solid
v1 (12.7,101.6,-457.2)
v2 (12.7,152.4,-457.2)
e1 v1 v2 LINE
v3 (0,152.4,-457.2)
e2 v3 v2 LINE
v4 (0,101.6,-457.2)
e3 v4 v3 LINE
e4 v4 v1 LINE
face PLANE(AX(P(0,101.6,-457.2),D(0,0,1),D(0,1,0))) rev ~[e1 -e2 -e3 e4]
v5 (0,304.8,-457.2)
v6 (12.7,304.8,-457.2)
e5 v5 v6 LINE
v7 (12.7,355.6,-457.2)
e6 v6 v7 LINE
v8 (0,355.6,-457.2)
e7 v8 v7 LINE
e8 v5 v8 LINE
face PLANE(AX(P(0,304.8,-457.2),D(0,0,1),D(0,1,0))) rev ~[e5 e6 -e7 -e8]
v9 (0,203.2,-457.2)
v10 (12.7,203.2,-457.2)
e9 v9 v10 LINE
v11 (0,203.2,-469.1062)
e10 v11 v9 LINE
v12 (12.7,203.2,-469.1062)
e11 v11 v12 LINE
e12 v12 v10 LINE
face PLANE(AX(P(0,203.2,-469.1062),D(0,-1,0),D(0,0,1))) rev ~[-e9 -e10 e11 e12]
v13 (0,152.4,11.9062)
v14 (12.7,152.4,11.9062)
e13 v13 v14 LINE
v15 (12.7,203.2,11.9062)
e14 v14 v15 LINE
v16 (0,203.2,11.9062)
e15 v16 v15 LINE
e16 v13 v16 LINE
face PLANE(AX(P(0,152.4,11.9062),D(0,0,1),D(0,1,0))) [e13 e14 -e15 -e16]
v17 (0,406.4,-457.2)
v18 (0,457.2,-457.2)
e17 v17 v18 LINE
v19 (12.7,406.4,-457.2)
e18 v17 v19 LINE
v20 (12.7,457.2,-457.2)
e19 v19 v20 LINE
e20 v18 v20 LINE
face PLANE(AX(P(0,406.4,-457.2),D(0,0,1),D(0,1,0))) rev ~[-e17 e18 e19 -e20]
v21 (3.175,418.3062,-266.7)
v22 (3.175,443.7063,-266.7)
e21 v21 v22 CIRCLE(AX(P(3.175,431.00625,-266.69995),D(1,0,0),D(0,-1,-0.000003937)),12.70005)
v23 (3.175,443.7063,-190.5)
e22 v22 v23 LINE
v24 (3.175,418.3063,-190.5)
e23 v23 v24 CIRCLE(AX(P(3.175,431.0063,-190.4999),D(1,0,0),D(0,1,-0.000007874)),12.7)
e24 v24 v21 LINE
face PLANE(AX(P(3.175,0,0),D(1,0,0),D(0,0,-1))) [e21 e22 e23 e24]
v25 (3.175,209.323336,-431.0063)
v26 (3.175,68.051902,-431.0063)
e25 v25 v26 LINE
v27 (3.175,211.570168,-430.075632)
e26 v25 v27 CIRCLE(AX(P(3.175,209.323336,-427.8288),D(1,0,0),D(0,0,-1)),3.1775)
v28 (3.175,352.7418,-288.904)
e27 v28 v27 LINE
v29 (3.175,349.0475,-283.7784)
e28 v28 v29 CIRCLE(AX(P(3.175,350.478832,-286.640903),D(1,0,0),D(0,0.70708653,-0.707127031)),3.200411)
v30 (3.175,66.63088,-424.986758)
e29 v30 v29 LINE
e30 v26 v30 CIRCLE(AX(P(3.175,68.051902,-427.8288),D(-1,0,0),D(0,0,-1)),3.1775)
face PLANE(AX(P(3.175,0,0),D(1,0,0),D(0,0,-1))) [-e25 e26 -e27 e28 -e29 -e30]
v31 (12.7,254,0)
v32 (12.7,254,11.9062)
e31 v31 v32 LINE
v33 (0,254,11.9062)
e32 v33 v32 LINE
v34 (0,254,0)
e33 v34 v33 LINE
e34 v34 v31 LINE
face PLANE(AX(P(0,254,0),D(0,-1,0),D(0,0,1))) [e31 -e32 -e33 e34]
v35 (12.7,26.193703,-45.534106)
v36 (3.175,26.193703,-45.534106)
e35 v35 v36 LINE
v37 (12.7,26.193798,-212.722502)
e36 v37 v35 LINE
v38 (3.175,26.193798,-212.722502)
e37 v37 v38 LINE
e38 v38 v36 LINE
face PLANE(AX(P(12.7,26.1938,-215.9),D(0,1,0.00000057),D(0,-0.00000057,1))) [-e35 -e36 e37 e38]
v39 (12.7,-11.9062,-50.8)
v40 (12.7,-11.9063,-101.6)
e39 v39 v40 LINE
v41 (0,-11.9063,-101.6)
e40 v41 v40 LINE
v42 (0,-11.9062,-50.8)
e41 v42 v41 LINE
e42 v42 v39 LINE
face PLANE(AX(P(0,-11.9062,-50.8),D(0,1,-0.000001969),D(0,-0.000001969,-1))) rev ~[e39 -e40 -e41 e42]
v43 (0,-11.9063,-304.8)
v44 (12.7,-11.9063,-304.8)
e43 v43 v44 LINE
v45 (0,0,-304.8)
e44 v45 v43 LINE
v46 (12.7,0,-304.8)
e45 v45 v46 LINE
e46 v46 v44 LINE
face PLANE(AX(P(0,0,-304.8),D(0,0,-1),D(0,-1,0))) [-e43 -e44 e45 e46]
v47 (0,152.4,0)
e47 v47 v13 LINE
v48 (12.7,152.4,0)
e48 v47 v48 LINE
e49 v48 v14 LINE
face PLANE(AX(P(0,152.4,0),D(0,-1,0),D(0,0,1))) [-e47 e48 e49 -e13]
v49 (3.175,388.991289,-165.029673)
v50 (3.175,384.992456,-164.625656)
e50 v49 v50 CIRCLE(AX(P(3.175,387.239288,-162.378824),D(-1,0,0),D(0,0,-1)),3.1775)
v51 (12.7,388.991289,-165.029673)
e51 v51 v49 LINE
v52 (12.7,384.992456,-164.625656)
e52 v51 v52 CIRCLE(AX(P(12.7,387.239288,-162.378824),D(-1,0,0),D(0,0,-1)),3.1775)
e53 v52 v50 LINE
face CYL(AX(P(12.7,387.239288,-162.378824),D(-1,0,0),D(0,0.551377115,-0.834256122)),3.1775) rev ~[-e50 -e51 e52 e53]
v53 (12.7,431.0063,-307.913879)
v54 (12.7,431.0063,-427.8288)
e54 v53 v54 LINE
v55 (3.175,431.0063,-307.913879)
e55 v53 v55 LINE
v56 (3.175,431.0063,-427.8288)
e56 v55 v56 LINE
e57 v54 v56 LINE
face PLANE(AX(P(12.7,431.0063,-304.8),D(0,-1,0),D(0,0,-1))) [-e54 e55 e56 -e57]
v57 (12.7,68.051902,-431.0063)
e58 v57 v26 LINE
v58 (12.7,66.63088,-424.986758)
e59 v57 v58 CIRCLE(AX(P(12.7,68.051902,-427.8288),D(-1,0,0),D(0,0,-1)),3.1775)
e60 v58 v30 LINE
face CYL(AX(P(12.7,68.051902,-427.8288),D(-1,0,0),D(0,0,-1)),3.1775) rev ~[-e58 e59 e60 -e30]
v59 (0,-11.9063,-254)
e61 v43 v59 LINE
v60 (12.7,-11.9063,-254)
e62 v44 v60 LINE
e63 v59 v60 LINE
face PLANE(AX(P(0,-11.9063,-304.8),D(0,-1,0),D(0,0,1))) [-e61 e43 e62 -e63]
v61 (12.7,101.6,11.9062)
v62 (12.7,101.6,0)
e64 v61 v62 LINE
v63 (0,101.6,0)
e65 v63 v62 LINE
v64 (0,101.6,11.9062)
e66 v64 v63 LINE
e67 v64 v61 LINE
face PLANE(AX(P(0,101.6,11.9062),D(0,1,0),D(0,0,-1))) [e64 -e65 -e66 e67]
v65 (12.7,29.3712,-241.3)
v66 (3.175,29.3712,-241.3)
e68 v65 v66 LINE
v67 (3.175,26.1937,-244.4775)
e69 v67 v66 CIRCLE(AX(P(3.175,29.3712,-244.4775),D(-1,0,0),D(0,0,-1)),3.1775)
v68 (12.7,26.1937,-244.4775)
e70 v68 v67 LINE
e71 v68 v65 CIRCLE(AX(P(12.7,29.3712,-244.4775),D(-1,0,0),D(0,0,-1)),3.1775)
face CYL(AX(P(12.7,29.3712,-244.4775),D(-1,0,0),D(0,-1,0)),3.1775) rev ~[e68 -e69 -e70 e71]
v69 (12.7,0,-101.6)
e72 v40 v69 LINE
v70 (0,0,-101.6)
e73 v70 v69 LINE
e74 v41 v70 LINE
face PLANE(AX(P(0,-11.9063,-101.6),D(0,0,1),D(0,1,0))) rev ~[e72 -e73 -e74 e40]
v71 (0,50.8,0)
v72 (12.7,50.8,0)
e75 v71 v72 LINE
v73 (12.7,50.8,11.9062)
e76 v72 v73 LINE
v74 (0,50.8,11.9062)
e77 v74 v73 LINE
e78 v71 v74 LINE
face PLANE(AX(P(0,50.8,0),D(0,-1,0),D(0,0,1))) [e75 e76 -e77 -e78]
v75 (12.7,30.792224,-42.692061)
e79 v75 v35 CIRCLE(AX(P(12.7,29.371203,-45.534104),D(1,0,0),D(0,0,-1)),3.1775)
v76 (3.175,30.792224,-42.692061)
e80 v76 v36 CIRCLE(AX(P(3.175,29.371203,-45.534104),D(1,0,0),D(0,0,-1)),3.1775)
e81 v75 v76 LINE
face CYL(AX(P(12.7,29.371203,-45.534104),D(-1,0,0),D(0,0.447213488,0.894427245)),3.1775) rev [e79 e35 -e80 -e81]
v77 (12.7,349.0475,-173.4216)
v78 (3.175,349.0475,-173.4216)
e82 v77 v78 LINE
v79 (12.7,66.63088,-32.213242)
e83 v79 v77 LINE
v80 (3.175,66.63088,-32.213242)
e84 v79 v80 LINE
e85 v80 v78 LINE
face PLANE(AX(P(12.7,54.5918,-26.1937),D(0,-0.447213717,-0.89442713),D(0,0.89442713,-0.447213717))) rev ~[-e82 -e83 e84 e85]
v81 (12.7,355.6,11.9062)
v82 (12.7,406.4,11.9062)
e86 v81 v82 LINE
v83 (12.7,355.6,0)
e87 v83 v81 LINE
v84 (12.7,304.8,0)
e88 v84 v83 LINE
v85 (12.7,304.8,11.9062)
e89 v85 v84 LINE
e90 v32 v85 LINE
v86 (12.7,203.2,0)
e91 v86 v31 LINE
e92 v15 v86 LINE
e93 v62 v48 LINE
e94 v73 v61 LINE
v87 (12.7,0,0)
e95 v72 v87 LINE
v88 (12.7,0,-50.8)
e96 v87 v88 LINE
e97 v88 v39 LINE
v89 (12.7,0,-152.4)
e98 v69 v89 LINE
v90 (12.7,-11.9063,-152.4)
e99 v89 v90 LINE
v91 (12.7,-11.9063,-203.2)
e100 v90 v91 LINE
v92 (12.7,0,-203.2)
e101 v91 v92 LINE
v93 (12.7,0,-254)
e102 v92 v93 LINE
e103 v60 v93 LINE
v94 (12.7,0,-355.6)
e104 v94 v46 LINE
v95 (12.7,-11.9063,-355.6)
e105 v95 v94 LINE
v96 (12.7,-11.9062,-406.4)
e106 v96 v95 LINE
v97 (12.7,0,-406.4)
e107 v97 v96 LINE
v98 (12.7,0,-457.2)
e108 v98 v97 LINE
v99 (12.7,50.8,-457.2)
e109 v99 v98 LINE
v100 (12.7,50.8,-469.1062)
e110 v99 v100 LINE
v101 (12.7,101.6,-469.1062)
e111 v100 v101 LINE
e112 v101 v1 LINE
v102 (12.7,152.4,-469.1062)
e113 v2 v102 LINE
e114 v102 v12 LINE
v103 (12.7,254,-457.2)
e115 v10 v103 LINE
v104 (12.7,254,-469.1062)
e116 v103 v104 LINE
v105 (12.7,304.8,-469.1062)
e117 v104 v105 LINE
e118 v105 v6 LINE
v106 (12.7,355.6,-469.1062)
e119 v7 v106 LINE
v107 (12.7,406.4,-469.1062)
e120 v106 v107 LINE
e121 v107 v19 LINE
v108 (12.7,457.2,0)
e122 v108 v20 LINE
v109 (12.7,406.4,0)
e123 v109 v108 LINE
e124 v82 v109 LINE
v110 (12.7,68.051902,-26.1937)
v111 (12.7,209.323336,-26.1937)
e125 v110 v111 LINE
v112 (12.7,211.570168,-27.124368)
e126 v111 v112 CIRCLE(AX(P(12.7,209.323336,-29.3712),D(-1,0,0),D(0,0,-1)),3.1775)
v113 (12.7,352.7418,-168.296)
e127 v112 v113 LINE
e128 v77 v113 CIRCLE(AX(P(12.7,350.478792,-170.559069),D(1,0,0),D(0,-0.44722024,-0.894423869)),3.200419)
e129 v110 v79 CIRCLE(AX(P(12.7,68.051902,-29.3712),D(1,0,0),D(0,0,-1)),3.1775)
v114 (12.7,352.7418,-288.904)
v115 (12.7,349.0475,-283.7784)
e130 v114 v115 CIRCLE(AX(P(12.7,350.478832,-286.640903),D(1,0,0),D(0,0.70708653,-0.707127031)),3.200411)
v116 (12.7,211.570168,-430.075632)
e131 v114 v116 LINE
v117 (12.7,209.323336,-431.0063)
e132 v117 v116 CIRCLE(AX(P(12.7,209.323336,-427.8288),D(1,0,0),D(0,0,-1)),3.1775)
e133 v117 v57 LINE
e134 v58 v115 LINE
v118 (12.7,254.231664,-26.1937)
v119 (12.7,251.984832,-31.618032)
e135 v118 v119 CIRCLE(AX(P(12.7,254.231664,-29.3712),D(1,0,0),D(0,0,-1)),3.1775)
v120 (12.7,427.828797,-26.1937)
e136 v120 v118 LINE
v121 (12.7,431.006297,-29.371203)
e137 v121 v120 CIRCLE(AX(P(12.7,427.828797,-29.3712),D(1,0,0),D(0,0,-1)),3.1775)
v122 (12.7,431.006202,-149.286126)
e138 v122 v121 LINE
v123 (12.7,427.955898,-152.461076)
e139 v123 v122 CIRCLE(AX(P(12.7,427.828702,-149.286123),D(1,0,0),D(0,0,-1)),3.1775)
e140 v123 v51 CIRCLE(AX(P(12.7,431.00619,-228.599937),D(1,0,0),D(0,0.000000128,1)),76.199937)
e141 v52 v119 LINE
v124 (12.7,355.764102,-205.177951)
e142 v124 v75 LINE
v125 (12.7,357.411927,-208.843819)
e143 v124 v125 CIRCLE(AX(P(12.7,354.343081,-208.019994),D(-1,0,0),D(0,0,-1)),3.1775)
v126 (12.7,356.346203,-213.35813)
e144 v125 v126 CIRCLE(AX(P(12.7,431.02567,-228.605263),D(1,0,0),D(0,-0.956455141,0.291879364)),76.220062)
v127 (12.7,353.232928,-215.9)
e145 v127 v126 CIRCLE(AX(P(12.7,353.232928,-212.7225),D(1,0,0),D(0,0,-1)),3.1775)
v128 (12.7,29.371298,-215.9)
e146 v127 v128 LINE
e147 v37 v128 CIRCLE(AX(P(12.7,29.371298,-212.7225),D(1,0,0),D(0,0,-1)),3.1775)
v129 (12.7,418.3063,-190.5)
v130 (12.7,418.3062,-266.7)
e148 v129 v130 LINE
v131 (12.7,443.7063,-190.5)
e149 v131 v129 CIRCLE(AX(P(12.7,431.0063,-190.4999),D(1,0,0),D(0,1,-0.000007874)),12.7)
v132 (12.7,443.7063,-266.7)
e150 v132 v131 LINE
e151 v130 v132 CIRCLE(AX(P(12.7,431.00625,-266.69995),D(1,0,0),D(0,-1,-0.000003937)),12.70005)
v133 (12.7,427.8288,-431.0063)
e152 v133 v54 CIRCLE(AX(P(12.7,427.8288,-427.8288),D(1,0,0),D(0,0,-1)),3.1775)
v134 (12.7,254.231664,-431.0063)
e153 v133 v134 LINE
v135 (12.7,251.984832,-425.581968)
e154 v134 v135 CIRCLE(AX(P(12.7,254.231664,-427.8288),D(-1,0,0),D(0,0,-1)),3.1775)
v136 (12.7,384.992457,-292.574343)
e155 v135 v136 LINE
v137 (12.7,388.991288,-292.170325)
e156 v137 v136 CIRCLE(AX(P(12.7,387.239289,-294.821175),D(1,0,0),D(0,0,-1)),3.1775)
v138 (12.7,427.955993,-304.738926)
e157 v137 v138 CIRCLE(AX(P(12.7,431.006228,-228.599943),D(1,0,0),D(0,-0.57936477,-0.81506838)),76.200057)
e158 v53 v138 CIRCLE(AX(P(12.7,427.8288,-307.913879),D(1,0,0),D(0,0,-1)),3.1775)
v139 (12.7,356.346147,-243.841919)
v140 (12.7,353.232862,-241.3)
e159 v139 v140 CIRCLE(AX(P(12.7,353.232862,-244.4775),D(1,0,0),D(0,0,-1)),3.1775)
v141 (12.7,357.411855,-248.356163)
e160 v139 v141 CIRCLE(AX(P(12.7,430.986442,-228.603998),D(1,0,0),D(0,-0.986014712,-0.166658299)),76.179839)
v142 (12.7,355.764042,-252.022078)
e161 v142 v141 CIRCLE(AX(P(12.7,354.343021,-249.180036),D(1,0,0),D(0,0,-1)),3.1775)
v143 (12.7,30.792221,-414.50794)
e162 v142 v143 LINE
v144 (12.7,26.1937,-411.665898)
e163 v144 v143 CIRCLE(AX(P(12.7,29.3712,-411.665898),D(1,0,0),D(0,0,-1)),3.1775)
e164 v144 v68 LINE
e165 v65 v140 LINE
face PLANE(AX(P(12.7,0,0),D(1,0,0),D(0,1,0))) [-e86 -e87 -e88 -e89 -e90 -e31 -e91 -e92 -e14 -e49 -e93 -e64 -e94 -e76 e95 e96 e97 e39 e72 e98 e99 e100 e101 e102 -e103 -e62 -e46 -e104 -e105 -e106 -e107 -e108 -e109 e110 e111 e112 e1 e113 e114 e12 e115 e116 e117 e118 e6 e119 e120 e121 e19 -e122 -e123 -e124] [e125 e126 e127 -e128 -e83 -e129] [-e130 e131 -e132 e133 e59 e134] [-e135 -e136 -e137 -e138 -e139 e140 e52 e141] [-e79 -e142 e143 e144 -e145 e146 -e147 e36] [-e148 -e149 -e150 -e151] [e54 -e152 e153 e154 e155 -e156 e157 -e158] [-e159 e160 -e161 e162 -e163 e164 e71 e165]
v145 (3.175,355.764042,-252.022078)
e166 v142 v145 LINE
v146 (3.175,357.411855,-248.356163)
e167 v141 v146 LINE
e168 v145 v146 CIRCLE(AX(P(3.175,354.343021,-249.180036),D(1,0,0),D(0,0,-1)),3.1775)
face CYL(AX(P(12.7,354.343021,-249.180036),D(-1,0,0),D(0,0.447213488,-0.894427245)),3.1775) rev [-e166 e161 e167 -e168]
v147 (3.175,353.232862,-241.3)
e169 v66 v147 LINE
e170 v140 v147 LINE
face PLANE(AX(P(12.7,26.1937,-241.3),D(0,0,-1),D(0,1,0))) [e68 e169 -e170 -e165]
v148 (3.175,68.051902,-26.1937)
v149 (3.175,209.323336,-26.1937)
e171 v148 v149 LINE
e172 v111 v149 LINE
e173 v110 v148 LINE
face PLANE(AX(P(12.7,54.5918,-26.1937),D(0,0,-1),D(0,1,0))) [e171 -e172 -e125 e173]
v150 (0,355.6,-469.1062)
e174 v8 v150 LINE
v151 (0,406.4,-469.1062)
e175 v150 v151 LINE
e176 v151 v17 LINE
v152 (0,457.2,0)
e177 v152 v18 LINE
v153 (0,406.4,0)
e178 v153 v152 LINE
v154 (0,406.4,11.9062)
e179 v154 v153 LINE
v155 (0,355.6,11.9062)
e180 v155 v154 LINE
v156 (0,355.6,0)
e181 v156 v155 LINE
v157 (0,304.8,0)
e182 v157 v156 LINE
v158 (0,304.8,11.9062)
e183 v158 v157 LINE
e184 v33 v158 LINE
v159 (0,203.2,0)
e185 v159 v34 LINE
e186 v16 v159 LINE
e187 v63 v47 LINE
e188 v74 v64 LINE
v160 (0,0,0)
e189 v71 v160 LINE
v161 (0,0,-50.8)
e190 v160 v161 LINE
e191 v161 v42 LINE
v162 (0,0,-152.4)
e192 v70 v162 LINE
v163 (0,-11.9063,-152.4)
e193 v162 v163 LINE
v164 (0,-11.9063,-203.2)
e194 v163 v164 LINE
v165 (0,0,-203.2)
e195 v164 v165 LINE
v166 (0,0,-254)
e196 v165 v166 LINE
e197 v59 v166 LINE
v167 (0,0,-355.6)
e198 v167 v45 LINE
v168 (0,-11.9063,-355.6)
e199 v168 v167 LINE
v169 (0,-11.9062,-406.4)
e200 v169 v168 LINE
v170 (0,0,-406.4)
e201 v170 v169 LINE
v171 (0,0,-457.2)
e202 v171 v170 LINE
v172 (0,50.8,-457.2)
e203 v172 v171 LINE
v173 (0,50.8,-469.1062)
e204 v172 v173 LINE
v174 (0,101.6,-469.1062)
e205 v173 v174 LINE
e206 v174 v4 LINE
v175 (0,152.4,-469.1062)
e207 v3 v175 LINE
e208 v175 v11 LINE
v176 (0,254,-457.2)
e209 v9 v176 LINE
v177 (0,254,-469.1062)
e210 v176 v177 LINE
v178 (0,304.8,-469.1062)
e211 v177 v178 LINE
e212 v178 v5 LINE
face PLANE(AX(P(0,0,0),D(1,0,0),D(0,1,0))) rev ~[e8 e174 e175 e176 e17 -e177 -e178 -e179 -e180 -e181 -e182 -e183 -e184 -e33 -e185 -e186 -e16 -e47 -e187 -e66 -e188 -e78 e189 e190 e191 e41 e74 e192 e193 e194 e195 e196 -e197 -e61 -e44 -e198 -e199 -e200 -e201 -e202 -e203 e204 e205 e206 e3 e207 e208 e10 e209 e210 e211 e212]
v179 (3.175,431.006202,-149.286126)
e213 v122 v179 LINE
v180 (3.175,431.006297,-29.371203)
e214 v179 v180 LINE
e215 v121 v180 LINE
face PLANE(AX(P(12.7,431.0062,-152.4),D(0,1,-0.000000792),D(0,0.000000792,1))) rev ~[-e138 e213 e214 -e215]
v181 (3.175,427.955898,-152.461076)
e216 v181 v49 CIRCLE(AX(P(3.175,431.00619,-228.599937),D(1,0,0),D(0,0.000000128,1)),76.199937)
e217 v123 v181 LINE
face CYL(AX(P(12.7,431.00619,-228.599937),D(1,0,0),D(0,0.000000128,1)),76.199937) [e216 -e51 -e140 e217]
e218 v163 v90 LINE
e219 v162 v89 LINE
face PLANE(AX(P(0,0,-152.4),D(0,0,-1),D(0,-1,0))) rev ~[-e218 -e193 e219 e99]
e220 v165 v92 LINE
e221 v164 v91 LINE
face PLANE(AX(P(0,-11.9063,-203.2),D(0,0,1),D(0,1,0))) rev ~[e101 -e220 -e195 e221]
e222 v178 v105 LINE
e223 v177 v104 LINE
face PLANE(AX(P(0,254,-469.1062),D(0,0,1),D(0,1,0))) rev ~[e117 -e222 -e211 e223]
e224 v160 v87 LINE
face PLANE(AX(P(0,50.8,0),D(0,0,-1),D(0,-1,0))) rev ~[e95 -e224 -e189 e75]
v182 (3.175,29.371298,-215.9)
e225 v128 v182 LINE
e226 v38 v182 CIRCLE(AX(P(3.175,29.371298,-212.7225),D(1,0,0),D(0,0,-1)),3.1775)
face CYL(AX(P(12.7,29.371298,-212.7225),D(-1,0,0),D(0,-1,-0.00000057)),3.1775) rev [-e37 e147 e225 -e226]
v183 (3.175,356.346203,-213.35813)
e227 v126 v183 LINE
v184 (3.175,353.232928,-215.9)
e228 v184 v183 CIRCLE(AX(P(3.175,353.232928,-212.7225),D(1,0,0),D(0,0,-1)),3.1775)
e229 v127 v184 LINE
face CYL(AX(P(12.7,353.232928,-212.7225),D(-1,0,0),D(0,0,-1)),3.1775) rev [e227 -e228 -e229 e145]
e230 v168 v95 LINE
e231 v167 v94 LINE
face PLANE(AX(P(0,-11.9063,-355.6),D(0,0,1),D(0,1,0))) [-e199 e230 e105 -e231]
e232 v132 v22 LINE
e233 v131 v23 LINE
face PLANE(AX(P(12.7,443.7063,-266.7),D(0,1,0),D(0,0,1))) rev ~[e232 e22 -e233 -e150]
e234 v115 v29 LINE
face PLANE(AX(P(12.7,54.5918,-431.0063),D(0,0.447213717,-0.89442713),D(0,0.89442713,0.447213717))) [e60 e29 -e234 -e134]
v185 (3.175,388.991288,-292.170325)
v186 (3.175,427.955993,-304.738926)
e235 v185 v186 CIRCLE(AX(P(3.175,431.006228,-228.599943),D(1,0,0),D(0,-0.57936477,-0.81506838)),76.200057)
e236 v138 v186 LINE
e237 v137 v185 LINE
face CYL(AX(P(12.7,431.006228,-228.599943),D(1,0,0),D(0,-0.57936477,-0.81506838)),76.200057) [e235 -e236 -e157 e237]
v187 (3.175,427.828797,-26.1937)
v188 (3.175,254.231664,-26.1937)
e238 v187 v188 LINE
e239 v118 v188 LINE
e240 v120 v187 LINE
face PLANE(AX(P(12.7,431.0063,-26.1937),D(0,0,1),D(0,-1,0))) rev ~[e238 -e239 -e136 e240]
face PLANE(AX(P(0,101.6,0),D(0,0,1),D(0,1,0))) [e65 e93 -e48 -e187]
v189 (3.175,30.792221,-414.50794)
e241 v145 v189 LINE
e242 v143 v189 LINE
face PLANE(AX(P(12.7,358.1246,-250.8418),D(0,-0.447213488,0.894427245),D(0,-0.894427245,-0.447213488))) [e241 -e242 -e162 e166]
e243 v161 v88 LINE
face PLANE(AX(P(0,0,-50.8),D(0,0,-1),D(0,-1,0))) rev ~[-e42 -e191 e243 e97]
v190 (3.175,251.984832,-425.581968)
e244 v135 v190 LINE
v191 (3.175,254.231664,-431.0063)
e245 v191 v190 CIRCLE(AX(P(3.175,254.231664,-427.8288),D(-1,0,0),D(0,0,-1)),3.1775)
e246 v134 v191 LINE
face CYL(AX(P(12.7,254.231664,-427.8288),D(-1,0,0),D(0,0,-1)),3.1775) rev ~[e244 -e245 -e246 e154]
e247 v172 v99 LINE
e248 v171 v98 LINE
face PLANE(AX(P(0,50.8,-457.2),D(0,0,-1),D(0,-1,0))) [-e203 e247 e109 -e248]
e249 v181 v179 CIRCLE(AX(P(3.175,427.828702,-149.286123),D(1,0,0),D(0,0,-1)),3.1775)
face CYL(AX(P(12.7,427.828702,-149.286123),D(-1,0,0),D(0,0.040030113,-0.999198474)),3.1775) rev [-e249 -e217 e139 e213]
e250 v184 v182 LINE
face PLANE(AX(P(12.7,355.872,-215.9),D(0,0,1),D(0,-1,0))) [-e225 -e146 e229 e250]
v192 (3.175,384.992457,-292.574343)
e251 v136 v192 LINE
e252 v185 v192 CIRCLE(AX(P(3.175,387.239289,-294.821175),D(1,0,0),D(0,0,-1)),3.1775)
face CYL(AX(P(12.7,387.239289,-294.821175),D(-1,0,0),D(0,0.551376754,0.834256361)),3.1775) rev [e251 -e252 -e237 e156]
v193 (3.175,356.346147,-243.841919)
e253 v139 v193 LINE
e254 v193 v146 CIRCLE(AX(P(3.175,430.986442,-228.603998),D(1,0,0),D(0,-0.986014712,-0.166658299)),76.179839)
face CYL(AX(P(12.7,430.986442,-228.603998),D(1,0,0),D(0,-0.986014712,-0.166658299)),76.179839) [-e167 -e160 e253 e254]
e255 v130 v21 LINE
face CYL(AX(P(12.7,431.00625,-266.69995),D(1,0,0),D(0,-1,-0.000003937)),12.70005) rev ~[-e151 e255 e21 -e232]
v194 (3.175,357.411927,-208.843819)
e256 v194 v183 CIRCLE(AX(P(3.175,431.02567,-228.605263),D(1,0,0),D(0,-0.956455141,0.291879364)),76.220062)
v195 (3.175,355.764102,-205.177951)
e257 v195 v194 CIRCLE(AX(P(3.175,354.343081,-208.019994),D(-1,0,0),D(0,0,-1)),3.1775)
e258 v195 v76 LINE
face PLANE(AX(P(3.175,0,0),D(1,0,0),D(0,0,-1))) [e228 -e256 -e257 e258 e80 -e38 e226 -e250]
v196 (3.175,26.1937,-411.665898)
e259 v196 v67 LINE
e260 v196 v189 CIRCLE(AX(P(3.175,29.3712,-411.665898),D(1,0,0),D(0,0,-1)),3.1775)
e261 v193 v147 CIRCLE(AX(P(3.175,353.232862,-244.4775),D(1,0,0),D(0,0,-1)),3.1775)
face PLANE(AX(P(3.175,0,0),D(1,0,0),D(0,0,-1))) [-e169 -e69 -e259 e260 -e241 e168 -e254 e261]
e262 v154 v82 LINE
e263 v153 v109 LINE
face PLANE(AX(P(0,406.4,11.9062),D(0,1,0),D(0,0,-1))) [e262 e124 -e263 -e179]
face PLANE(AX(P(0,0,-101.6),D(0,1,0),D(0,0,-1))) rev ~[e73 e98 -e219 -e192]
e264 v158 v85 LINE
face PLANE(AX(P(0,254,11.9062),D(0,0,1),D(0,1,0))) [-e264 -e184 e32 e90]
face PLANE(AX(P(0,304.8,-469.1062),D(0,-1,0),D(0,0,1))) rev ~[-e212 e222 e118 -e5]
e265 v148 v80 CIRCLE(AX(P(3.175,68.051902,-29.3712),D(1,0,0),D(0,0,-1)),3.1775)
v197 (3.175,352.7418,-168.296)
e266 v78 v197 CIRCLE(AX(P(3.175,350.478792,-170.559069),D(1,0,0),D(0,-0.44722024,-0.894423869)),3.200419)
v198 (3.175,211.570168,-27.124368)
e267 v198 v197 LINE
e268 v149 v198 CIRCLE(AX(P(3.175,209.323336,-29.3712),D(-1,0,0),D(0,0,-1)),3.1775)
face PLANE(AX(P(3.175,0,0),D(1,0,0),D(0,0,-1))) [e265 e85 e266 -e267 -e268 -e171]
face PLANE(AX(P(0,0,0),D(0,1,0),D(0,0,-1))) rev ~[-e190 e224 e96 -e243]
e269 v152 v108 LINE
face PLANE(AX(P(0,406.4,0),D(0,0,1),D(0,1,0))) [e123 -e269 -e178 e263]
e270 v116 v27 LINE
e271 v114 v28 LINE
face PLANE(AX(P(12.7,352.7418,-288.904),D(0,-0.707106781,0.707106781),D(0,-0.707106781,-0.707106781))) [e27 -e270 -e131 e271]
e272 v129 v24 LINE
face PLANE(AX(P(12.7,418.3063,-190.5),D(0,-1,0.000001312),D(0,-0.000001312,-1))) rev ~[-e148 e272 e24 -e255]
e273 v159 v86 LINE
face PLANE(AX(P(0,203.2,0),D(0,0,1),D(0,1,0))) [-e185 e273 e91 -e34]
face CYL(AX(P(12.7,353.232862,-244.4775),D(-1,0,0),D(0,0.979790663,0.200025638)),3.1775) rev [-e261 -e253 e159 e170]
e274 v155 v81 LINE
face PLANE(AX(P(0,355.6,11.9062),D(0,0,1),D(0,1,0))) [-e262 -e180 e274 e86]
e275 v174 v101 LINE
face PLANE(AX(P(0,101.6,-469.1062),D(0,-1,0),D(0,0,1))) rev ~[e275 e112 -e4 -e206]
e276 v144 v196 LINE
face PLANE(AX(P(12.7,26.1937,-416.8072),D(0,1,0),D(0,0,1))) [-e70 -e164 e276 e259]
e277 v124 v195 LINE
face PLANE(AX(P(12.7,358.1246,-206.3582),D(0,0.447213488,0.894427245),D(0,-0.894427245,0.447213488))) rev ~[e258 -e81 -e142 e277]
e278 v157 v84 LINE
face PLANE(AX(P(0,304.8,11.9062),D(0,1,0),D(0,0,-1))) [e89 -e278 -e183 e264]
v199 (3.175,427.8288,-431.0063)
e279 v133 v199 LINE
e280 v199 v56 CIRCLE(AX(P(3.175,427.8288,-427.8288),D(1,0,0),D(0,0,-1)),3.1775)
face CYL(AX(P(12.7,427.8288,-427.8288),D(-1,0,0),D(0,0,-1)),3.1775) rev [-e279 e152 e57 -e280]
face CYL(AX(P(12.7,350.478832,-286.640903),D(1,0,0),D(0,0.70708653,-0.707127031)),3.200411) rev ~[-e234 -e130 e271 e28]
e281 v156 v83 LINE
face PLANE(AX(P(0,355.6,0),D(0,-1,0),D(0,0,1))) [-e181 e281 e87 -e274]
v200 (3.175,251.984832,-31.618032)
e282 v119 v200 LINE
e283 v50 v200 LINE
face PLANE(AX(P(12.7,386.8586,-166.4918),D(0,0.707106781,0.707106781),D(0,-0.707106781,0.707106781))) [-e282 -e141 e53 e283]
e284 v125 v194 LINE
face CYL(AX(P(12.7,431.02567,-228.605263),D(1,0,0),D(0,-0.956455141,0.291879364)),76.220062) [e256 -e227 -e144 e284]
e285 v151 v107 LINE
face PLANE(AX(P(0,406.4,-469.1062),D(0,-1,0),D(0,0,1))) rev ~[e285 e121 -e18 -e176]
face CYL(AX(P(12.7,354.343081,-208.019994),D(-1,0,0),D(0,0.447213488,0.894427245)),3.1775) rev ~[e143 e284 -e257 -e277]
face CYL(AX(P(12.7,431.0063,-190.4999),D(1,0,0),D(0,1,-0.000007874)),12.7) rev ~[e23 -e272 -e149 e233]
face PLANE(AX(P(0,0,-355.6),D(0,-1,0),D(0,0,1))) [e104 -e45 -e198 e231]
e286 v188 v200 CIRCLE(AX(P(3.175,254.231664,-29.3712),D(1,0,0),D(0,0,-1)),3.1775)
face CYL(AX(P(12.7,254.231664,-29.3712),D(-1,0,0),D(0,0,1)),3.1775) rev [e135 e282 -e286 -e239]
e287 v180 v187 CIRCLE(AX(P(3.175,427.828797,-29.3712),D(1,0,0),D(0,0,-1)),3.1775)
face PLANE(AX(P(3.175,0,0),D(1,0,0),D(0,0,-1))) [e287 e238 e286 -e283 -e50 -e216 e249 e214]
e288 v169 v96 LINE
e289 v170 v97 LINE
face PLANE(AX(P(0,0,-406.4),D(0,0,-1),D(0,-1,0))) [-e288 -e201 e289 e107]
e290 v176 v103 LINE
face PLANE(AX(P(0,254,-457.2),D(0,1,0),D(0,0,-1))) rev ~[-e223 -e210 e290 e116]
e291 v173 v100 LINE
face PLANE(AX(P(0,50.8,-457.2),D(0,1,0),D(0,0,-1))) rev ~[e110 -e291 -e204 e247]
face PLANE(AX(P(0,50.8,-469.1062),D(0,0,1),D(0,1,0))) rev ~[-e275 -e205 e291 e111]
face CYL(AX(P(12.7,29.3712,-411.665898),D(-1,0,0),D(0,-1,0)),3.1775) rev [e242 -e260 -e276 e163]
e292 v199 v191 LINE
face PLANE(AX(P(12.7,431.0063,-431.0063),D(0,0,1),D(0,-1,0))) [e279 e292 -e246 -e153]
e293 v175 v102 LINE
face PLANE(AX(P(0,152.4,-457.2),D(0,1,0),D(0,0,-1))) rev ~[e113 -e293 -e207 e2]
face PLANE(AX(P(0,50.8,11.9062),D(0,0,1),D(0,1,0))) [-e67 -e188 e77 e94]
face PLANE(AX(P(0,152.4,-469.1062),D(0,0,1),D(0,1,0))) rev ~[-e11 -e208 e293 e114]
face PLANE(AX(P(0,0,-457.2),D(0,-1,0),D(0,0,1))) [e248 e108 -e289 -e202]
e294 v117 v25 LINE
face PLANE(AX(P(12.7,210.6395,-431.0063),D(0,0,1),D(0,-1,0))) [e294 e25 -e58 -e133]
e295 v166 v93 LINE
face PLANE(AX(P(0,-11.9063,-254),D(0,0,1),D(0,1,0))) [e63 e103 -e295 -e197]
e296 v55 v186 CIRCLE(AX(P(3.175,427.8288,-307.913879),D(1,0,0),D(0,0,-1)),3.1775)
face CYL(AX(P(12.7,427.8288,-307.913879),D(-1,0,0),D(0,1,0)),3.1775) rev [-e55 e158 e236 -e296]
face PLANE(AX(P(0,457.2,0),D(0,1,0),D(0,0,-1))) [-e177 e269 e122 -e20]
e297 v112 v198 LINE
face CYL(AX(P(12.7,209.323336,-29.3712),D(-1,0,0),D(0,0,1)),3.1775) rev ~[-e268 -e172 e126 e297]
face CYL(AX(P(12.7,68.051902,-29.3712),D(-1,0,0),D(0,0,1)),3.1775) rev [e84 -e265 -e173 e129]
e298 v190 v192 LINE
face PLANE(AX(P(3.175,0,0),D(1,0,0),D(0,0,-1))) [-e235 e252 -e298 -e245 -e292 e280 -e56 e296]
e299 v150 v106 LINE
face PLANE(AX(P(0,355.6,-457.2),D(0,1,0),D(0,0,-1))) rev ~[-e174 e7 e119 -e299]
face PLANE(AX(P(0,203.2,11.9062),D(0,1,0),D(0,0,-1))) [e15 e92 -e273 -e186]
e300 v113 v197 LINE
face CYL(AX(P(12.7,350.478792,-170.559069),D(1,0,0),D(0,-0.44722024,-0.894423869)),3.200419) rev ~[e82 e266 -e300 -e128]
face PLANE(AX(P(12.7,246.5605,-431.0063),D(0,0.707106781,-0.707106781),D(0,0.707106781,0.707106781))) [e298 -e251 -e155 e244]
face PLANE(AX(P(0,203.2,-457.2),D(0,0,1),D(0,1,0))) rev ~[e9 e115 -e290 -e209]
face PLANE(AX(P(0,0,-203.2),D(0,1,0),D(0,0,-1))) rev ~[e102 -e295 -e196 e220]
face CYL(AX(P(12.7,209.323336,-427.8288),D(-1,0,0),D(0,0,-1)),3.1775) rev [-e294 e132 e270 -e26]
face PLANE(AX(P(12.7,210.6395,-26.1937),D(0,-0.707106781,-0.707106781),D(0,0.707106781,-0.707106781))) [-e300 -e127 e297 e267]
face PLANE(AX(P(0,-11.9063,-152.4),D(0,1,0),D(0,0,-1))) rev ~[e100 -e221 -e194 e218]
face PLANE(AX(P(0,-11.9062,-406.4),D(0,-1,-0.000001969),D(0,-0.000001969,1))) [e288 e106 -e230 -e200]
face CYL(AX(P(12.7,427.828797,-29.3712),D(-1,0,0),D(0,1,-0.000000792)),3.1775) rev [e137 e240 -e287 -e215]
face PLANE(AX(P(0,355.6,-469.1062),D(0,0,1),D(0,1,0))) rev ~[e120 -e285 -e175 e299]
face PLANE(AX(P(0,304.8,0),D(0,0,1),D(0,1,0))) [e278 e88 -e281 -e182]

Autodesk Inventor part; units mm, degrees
ref_plane "YZ Plane" through (0, 0, 0) normal (1, 0, 0) x (0, 1, 0)
ref_plane "XZ Plane" through (0, 0, 0) normal (0, 1, 0) x (-1, 0, 0)
ref_plane "XY Plane" through (0, 0, 0) normal (0, 0, 1) x (1, 0, 0)
sketch "Sketch1" plane through (0, 0, 0) normal (1, 0, 0) x (0, 1, 0)
  line L0 (0, -50.8) -> (-11.9062, -50.8)
  line L1 (-11.9062, -50.8) -> (-11.9063, -101.6)
  line L2 (-11.9063, -101.6) -> (0, -101.6)
  line L3 (0, -101.6) -> (0, -152.4)
  line L4 (0, -152.4) -> (-11.9063, -152.4)
  line L5 (-11.9063, -152.4) -> (-11.9063, -203.2)
  line L6 (-11.9063, -203.2) -> (0, -203.2)
  line L7 (0, 0) -> (228.6, -228.6) construction
  line L8 (0, 0) -> (323.2892, 0) construction
  line L9 (50.8, 0) -> (50.8, 11.9062)
  line L10 (50.8, 11.9062) -> (101.6, 11.9062)
  line L11 (101.6, 11.9062) -> (101.6, 0)
  line L12 (101.6, 0) -> (152.4, 0)
  line L13 (152.4, 0) -> (152.4, 11.9062)
  line L14 (152.4, 11.9062) -> (203.2, 11.9062)
  line L15 (203.2, 11.9062) -> (203.2, 0)
  line L16 (50.8, 0) -> (0, 0)
  line L17 (0, 0) -> (0, -50.8)
  line L18 (228.6, -228.6) -> (0, -228.6) construction
  line L19 (203.2, 0) -> (254, 0)
  line L20 (254, 0) -> (254, 11.9062)
  line L21 (254, 11.9062) -> (304.8, 11.9062)
  line L22 (304.8, 11.9062) -> (304.8, 0)
  line L23 (304.8, 0) -> (355.6, 0)
  line L24 (355.6, 0) -> (355.6, 11.9062)
  line L25 (355.6, 11.9062) -> (406.4, 11.9062)
  line L26 (406.4, 11.9062) -> (406.4, 0)
  line L27 (406.4, 0) -> (457.2, 0)
  line L28 (0, -406.4) -> (-11.9062, -406.4)
  line L29 (-11.9062, -406.4) -> (-11.9063, -355.6)
  line L30 (-11.9063, -355.6) -> (0, -355.6)
  line L31 (0, -355.6) -> (0, -304.8)
  line L32 (0, -304.8) -> (-11.9063, -304.8)
  line L33 (-11.9063, -304.8) -> (-11.9063, -254)
  line L34 (-11.9063, -254) -> (0, -254)
  line L35 (50.8, -457.2) -> (50.8, -469.1062)
  line L36 (50.8, -469.1062) -> (101.6, -469.1062)
  line L37 (101.6, -469.1062) -> (101.6, -457.2)
  line L38 (101.6, -457.2) -> (152.4, -457.2)
  line L39 (152.4, -457.2) -> (152.4, -469.1062)
  line L40 (152.4, -469.1062) -> (203.2, -469.1062)
  line L41 (203.2, -469.1062) -> (203.2, -457.2)
  line L42 (50.8, -457.2) -> (0, -457.2)
  line L43 (0, -457.2) -> (0, -406.4)
  line L44 (203.2, -457.2) -> (254, -457.2)
  line L45 (254, -457.2) -> (254, -469.1062)
  line L46 (254, -469.1062) -> (304.8, -469.1062)
  line L47 (304.8, -469.1062) -> (304.8, -457.2)
  line L48 (304.8, -457.2) -> (355.6, -457.2)
  line L49 (355.6, -457.2) -> (355.6, -469.1062)
  line L50 (355.6, -469.1062) -> (406.4, -469.1062)
  line L51 (406.4, -469.1062) -> (406.4, -457.2)
  line L52 (406.4, -457.2) -> (457.2, -457.2)
  line L53 (0, -203.2) -> (0, -254)
  line L54 (457.2, 0) -> (457.2, -457.2)
  dimension "thickness" = 11.9062
  dimension "toothwidth" = 50.8
  dimension "d8" = 323.2892
  dimension "d9" = 45
  dimension "d10" = 50.8
  dimension "d11" = 228.6
extrude "Extrusion1" add sketch "Sketch1" along normal blind 12.7
sketch "Sketch2" plane through (12.7, 0, 0) normal (1, 0, 0) x (0, 0, -1)
  line L0 (26.1937, 26.1937) -> (431.0063, 26.1937) construction
  line L1 (431.0063, 26.1937) -> (431.0063, 431.0063) construction
  line L2 (431.0063, 431.0063) -> (26.1937, 431.0063) construction
  line L3 (26.1937, 431.0063) -> (26.1937, 26.1937) construction
  line L4 (190.5, 431.0062) -> (266.7, 431.0062) construction
  line L5 (190.5, 418.3063) -> (266.7, 418.3062)
  line L6 (266.7, 443.7063) -> (190.5, 443.7063)
  arc A0 (190.5, 443.7063) -> (190.5, 418.3063) centre (190.5, 431.0062) ccw
  arc A1 (266.7, 418.3062) -> (266.7, 443.7063) centre (266.7, 431.0062) ccw
  line L7 (26.1937, 228.6) -> (228.6, 431.0062) construction
  line L8 (228.6, 431.0062) -> (26.1937, 26.1937) construction
  line L9 (431.0063, 228.6) -> (228.6, 431.0062) construction
  line L10 (431.0063, 26.1937) -> (228.6, 431.0062) construction
  line L11 (228.6, 26.1938) -> (228.6, 431.0062) construction
  line L12 (166.4918, 386.8586) -> (26.1937, 246.5605)
  line L13 (26.1937, 210.6395) -> (168.296, 352.7418)
  line L14 (206.3582, 358.1246) -> (40.3928, 26.1937)
  line L15 (26.1937, 54.5918) -> (173.4216, 349.0475)
  line L16 (241.3, 26.1937) -> (241.3, 355.872)
  line L17 (215.9, 355.872) -> (215.9, 26.1938)
  line L18 (431.0063, 54.5918) -> (283.7784, 349.0475)
  line L19 (250.8418, 358.1246) -> (416.8072, 26.1937)
  line L20 (431.0063, 246.5605) -> (290.7082, 386.8586)
  line L21 (288.904, 352.7418) -> (431.0063, 210.6395)
  line L22 (304.8, 431.0063) -> (431.0063, 431.0063)
  line L23 (431.0063, 431.0063) -> (431.0063, 246.5605)
  line L24 (431.0063, 210.6395) -> (431.0063, 54.5918)
  line L25 (416.8072, 26.1937) -> (241.3, 26.1937)
  line L26 (215.9, 26.1938) -> (40.3928, 26.1937)
  line L27 (26.1937, 54.5918) -> (26.1937, 210.6395)
  line L28 (152.4, 431.0062) -> (26.1937, 431.0063)
  line L29 (26.1937, 431.0063) -> (26.1937, 246.5605)
  arc A2 (173.4216, 349.0475) -> (168.296, 352.7418) centre (170.5591, 350.4788) ccw
  arc A3 (288.904, 352.7418) -> (283.7784, 349.0475) centre (286.6409, 350.4788) ccw
  arc A4 (290.7082, 386.8586) -> (304.8, 431.0063) centre (228.6, 431.0062) ccw
  arc A5 (241.3, 355.872) -> (250.8418, 358.1246) centre (228.6, 431.0062) ccw
  arc A6 (152.4, 431.0062) -> (166.4918, 386.8586) centre (228.6, 431.0062) ccw
  arc A7 (206.3582, 358.1246) -> (215.9, 355.872) centre (228.6, 431.0062) ccw
  line L30 (457.2, 457.2) -> (0, 457.2) projected
  line L31 (-11.9062, 406.4) -> (-11.9062, 355.6) projected
  line L32 (469.1062, 355.6) -> (469.1062, 406.4) projected
  line L33 (152.4, -11.9063) -> (203.2, -11.9063) projected
  point P0 (0, 0)
  point P1 (0, 0)
  dimension "d25" = 38.1
  dimension "d26" = 25.4
  dimension "d27" = 12.7
  dimension "d28" = 12.7
  dimension "d29" = 12.7
  dimension "d30" = 12.7
  dimension "d31" = 12.7
  dimension "d32" = 12.7
  dimension "d33" = 12.7
  dimension "d34" = 12.7
  dimension "d35" = 12.7
  dimension "d36" = 12.7
  dimension "d37" = 3.2004
  dimension "d38" = 3.2004
  dimension "d39" = 76.2
  dimension "d40" = 76.2
  dimension "d41" = 76.2
  dimension "d42" = 76.2
  dimension "d44" = 26.1938
  dimension "border" = 38.1
  dimension "d46" = 38.1
  dimension "d47" = 38.1
extrude "Extrusion2" cut sketch "Sketch2" against normal blind 9.525
fillet "Fillet1" radius 3.1775 20 edges at (7.9375, 431.0062, -152.4) (7.9375, 431.0063, -26.1937) (7.9375, 386.8586, -166.4918) (7.9375, 246.5605, -26.1937) (7.9375, 26.1937, -40.3928) (7.9375, 26.1938, -215.9) (7.9375, 54.5918, -26.1937) (7.9375, 210.6395, -26.1937) (7.9375, 355.872, -215.9) (7.9375, 358.1246, -206.3582) (7.9375, 355.872, -241.3) (7.9375, 358.1246, -250.8418) (7.9375, 26.1937, -241.3) (7.9375, 26.1937, -416.8072) (7.9375, 54.5918, -431.0063) (7.9375, 210.6395, -431.0063) (7.9375, 246.5605, -431.0063) (7.9375, 431.0063, -431.0063) (7.9375, 386.8586, -290.7082) (7.9375, 431.0063, -304.8)
equation "\"d10\" = toothwidth"
equation "\"d28\" = d27"
equation "\"d29\" = d27"
equation "\"d30\" = d27"
equation "\"d31\" = d27"
equation "\"d32\" = d27"
equation "\"d33\" = d27"
equation "\"d34\" = d27"
equation "\"d35\" = d27"
equation "\"d36\" = d27"
equation "\"d38\" = d37"
equation "\"d40\" = d39"
equation "\"d41\" = d39"
equation "\"d42\" = d39"
equation "\"d44\" = border - thickness"
equation "\"d47\" = border"
properties part number "SizingCrateMinorSide" material "Wood (Cherry)"
